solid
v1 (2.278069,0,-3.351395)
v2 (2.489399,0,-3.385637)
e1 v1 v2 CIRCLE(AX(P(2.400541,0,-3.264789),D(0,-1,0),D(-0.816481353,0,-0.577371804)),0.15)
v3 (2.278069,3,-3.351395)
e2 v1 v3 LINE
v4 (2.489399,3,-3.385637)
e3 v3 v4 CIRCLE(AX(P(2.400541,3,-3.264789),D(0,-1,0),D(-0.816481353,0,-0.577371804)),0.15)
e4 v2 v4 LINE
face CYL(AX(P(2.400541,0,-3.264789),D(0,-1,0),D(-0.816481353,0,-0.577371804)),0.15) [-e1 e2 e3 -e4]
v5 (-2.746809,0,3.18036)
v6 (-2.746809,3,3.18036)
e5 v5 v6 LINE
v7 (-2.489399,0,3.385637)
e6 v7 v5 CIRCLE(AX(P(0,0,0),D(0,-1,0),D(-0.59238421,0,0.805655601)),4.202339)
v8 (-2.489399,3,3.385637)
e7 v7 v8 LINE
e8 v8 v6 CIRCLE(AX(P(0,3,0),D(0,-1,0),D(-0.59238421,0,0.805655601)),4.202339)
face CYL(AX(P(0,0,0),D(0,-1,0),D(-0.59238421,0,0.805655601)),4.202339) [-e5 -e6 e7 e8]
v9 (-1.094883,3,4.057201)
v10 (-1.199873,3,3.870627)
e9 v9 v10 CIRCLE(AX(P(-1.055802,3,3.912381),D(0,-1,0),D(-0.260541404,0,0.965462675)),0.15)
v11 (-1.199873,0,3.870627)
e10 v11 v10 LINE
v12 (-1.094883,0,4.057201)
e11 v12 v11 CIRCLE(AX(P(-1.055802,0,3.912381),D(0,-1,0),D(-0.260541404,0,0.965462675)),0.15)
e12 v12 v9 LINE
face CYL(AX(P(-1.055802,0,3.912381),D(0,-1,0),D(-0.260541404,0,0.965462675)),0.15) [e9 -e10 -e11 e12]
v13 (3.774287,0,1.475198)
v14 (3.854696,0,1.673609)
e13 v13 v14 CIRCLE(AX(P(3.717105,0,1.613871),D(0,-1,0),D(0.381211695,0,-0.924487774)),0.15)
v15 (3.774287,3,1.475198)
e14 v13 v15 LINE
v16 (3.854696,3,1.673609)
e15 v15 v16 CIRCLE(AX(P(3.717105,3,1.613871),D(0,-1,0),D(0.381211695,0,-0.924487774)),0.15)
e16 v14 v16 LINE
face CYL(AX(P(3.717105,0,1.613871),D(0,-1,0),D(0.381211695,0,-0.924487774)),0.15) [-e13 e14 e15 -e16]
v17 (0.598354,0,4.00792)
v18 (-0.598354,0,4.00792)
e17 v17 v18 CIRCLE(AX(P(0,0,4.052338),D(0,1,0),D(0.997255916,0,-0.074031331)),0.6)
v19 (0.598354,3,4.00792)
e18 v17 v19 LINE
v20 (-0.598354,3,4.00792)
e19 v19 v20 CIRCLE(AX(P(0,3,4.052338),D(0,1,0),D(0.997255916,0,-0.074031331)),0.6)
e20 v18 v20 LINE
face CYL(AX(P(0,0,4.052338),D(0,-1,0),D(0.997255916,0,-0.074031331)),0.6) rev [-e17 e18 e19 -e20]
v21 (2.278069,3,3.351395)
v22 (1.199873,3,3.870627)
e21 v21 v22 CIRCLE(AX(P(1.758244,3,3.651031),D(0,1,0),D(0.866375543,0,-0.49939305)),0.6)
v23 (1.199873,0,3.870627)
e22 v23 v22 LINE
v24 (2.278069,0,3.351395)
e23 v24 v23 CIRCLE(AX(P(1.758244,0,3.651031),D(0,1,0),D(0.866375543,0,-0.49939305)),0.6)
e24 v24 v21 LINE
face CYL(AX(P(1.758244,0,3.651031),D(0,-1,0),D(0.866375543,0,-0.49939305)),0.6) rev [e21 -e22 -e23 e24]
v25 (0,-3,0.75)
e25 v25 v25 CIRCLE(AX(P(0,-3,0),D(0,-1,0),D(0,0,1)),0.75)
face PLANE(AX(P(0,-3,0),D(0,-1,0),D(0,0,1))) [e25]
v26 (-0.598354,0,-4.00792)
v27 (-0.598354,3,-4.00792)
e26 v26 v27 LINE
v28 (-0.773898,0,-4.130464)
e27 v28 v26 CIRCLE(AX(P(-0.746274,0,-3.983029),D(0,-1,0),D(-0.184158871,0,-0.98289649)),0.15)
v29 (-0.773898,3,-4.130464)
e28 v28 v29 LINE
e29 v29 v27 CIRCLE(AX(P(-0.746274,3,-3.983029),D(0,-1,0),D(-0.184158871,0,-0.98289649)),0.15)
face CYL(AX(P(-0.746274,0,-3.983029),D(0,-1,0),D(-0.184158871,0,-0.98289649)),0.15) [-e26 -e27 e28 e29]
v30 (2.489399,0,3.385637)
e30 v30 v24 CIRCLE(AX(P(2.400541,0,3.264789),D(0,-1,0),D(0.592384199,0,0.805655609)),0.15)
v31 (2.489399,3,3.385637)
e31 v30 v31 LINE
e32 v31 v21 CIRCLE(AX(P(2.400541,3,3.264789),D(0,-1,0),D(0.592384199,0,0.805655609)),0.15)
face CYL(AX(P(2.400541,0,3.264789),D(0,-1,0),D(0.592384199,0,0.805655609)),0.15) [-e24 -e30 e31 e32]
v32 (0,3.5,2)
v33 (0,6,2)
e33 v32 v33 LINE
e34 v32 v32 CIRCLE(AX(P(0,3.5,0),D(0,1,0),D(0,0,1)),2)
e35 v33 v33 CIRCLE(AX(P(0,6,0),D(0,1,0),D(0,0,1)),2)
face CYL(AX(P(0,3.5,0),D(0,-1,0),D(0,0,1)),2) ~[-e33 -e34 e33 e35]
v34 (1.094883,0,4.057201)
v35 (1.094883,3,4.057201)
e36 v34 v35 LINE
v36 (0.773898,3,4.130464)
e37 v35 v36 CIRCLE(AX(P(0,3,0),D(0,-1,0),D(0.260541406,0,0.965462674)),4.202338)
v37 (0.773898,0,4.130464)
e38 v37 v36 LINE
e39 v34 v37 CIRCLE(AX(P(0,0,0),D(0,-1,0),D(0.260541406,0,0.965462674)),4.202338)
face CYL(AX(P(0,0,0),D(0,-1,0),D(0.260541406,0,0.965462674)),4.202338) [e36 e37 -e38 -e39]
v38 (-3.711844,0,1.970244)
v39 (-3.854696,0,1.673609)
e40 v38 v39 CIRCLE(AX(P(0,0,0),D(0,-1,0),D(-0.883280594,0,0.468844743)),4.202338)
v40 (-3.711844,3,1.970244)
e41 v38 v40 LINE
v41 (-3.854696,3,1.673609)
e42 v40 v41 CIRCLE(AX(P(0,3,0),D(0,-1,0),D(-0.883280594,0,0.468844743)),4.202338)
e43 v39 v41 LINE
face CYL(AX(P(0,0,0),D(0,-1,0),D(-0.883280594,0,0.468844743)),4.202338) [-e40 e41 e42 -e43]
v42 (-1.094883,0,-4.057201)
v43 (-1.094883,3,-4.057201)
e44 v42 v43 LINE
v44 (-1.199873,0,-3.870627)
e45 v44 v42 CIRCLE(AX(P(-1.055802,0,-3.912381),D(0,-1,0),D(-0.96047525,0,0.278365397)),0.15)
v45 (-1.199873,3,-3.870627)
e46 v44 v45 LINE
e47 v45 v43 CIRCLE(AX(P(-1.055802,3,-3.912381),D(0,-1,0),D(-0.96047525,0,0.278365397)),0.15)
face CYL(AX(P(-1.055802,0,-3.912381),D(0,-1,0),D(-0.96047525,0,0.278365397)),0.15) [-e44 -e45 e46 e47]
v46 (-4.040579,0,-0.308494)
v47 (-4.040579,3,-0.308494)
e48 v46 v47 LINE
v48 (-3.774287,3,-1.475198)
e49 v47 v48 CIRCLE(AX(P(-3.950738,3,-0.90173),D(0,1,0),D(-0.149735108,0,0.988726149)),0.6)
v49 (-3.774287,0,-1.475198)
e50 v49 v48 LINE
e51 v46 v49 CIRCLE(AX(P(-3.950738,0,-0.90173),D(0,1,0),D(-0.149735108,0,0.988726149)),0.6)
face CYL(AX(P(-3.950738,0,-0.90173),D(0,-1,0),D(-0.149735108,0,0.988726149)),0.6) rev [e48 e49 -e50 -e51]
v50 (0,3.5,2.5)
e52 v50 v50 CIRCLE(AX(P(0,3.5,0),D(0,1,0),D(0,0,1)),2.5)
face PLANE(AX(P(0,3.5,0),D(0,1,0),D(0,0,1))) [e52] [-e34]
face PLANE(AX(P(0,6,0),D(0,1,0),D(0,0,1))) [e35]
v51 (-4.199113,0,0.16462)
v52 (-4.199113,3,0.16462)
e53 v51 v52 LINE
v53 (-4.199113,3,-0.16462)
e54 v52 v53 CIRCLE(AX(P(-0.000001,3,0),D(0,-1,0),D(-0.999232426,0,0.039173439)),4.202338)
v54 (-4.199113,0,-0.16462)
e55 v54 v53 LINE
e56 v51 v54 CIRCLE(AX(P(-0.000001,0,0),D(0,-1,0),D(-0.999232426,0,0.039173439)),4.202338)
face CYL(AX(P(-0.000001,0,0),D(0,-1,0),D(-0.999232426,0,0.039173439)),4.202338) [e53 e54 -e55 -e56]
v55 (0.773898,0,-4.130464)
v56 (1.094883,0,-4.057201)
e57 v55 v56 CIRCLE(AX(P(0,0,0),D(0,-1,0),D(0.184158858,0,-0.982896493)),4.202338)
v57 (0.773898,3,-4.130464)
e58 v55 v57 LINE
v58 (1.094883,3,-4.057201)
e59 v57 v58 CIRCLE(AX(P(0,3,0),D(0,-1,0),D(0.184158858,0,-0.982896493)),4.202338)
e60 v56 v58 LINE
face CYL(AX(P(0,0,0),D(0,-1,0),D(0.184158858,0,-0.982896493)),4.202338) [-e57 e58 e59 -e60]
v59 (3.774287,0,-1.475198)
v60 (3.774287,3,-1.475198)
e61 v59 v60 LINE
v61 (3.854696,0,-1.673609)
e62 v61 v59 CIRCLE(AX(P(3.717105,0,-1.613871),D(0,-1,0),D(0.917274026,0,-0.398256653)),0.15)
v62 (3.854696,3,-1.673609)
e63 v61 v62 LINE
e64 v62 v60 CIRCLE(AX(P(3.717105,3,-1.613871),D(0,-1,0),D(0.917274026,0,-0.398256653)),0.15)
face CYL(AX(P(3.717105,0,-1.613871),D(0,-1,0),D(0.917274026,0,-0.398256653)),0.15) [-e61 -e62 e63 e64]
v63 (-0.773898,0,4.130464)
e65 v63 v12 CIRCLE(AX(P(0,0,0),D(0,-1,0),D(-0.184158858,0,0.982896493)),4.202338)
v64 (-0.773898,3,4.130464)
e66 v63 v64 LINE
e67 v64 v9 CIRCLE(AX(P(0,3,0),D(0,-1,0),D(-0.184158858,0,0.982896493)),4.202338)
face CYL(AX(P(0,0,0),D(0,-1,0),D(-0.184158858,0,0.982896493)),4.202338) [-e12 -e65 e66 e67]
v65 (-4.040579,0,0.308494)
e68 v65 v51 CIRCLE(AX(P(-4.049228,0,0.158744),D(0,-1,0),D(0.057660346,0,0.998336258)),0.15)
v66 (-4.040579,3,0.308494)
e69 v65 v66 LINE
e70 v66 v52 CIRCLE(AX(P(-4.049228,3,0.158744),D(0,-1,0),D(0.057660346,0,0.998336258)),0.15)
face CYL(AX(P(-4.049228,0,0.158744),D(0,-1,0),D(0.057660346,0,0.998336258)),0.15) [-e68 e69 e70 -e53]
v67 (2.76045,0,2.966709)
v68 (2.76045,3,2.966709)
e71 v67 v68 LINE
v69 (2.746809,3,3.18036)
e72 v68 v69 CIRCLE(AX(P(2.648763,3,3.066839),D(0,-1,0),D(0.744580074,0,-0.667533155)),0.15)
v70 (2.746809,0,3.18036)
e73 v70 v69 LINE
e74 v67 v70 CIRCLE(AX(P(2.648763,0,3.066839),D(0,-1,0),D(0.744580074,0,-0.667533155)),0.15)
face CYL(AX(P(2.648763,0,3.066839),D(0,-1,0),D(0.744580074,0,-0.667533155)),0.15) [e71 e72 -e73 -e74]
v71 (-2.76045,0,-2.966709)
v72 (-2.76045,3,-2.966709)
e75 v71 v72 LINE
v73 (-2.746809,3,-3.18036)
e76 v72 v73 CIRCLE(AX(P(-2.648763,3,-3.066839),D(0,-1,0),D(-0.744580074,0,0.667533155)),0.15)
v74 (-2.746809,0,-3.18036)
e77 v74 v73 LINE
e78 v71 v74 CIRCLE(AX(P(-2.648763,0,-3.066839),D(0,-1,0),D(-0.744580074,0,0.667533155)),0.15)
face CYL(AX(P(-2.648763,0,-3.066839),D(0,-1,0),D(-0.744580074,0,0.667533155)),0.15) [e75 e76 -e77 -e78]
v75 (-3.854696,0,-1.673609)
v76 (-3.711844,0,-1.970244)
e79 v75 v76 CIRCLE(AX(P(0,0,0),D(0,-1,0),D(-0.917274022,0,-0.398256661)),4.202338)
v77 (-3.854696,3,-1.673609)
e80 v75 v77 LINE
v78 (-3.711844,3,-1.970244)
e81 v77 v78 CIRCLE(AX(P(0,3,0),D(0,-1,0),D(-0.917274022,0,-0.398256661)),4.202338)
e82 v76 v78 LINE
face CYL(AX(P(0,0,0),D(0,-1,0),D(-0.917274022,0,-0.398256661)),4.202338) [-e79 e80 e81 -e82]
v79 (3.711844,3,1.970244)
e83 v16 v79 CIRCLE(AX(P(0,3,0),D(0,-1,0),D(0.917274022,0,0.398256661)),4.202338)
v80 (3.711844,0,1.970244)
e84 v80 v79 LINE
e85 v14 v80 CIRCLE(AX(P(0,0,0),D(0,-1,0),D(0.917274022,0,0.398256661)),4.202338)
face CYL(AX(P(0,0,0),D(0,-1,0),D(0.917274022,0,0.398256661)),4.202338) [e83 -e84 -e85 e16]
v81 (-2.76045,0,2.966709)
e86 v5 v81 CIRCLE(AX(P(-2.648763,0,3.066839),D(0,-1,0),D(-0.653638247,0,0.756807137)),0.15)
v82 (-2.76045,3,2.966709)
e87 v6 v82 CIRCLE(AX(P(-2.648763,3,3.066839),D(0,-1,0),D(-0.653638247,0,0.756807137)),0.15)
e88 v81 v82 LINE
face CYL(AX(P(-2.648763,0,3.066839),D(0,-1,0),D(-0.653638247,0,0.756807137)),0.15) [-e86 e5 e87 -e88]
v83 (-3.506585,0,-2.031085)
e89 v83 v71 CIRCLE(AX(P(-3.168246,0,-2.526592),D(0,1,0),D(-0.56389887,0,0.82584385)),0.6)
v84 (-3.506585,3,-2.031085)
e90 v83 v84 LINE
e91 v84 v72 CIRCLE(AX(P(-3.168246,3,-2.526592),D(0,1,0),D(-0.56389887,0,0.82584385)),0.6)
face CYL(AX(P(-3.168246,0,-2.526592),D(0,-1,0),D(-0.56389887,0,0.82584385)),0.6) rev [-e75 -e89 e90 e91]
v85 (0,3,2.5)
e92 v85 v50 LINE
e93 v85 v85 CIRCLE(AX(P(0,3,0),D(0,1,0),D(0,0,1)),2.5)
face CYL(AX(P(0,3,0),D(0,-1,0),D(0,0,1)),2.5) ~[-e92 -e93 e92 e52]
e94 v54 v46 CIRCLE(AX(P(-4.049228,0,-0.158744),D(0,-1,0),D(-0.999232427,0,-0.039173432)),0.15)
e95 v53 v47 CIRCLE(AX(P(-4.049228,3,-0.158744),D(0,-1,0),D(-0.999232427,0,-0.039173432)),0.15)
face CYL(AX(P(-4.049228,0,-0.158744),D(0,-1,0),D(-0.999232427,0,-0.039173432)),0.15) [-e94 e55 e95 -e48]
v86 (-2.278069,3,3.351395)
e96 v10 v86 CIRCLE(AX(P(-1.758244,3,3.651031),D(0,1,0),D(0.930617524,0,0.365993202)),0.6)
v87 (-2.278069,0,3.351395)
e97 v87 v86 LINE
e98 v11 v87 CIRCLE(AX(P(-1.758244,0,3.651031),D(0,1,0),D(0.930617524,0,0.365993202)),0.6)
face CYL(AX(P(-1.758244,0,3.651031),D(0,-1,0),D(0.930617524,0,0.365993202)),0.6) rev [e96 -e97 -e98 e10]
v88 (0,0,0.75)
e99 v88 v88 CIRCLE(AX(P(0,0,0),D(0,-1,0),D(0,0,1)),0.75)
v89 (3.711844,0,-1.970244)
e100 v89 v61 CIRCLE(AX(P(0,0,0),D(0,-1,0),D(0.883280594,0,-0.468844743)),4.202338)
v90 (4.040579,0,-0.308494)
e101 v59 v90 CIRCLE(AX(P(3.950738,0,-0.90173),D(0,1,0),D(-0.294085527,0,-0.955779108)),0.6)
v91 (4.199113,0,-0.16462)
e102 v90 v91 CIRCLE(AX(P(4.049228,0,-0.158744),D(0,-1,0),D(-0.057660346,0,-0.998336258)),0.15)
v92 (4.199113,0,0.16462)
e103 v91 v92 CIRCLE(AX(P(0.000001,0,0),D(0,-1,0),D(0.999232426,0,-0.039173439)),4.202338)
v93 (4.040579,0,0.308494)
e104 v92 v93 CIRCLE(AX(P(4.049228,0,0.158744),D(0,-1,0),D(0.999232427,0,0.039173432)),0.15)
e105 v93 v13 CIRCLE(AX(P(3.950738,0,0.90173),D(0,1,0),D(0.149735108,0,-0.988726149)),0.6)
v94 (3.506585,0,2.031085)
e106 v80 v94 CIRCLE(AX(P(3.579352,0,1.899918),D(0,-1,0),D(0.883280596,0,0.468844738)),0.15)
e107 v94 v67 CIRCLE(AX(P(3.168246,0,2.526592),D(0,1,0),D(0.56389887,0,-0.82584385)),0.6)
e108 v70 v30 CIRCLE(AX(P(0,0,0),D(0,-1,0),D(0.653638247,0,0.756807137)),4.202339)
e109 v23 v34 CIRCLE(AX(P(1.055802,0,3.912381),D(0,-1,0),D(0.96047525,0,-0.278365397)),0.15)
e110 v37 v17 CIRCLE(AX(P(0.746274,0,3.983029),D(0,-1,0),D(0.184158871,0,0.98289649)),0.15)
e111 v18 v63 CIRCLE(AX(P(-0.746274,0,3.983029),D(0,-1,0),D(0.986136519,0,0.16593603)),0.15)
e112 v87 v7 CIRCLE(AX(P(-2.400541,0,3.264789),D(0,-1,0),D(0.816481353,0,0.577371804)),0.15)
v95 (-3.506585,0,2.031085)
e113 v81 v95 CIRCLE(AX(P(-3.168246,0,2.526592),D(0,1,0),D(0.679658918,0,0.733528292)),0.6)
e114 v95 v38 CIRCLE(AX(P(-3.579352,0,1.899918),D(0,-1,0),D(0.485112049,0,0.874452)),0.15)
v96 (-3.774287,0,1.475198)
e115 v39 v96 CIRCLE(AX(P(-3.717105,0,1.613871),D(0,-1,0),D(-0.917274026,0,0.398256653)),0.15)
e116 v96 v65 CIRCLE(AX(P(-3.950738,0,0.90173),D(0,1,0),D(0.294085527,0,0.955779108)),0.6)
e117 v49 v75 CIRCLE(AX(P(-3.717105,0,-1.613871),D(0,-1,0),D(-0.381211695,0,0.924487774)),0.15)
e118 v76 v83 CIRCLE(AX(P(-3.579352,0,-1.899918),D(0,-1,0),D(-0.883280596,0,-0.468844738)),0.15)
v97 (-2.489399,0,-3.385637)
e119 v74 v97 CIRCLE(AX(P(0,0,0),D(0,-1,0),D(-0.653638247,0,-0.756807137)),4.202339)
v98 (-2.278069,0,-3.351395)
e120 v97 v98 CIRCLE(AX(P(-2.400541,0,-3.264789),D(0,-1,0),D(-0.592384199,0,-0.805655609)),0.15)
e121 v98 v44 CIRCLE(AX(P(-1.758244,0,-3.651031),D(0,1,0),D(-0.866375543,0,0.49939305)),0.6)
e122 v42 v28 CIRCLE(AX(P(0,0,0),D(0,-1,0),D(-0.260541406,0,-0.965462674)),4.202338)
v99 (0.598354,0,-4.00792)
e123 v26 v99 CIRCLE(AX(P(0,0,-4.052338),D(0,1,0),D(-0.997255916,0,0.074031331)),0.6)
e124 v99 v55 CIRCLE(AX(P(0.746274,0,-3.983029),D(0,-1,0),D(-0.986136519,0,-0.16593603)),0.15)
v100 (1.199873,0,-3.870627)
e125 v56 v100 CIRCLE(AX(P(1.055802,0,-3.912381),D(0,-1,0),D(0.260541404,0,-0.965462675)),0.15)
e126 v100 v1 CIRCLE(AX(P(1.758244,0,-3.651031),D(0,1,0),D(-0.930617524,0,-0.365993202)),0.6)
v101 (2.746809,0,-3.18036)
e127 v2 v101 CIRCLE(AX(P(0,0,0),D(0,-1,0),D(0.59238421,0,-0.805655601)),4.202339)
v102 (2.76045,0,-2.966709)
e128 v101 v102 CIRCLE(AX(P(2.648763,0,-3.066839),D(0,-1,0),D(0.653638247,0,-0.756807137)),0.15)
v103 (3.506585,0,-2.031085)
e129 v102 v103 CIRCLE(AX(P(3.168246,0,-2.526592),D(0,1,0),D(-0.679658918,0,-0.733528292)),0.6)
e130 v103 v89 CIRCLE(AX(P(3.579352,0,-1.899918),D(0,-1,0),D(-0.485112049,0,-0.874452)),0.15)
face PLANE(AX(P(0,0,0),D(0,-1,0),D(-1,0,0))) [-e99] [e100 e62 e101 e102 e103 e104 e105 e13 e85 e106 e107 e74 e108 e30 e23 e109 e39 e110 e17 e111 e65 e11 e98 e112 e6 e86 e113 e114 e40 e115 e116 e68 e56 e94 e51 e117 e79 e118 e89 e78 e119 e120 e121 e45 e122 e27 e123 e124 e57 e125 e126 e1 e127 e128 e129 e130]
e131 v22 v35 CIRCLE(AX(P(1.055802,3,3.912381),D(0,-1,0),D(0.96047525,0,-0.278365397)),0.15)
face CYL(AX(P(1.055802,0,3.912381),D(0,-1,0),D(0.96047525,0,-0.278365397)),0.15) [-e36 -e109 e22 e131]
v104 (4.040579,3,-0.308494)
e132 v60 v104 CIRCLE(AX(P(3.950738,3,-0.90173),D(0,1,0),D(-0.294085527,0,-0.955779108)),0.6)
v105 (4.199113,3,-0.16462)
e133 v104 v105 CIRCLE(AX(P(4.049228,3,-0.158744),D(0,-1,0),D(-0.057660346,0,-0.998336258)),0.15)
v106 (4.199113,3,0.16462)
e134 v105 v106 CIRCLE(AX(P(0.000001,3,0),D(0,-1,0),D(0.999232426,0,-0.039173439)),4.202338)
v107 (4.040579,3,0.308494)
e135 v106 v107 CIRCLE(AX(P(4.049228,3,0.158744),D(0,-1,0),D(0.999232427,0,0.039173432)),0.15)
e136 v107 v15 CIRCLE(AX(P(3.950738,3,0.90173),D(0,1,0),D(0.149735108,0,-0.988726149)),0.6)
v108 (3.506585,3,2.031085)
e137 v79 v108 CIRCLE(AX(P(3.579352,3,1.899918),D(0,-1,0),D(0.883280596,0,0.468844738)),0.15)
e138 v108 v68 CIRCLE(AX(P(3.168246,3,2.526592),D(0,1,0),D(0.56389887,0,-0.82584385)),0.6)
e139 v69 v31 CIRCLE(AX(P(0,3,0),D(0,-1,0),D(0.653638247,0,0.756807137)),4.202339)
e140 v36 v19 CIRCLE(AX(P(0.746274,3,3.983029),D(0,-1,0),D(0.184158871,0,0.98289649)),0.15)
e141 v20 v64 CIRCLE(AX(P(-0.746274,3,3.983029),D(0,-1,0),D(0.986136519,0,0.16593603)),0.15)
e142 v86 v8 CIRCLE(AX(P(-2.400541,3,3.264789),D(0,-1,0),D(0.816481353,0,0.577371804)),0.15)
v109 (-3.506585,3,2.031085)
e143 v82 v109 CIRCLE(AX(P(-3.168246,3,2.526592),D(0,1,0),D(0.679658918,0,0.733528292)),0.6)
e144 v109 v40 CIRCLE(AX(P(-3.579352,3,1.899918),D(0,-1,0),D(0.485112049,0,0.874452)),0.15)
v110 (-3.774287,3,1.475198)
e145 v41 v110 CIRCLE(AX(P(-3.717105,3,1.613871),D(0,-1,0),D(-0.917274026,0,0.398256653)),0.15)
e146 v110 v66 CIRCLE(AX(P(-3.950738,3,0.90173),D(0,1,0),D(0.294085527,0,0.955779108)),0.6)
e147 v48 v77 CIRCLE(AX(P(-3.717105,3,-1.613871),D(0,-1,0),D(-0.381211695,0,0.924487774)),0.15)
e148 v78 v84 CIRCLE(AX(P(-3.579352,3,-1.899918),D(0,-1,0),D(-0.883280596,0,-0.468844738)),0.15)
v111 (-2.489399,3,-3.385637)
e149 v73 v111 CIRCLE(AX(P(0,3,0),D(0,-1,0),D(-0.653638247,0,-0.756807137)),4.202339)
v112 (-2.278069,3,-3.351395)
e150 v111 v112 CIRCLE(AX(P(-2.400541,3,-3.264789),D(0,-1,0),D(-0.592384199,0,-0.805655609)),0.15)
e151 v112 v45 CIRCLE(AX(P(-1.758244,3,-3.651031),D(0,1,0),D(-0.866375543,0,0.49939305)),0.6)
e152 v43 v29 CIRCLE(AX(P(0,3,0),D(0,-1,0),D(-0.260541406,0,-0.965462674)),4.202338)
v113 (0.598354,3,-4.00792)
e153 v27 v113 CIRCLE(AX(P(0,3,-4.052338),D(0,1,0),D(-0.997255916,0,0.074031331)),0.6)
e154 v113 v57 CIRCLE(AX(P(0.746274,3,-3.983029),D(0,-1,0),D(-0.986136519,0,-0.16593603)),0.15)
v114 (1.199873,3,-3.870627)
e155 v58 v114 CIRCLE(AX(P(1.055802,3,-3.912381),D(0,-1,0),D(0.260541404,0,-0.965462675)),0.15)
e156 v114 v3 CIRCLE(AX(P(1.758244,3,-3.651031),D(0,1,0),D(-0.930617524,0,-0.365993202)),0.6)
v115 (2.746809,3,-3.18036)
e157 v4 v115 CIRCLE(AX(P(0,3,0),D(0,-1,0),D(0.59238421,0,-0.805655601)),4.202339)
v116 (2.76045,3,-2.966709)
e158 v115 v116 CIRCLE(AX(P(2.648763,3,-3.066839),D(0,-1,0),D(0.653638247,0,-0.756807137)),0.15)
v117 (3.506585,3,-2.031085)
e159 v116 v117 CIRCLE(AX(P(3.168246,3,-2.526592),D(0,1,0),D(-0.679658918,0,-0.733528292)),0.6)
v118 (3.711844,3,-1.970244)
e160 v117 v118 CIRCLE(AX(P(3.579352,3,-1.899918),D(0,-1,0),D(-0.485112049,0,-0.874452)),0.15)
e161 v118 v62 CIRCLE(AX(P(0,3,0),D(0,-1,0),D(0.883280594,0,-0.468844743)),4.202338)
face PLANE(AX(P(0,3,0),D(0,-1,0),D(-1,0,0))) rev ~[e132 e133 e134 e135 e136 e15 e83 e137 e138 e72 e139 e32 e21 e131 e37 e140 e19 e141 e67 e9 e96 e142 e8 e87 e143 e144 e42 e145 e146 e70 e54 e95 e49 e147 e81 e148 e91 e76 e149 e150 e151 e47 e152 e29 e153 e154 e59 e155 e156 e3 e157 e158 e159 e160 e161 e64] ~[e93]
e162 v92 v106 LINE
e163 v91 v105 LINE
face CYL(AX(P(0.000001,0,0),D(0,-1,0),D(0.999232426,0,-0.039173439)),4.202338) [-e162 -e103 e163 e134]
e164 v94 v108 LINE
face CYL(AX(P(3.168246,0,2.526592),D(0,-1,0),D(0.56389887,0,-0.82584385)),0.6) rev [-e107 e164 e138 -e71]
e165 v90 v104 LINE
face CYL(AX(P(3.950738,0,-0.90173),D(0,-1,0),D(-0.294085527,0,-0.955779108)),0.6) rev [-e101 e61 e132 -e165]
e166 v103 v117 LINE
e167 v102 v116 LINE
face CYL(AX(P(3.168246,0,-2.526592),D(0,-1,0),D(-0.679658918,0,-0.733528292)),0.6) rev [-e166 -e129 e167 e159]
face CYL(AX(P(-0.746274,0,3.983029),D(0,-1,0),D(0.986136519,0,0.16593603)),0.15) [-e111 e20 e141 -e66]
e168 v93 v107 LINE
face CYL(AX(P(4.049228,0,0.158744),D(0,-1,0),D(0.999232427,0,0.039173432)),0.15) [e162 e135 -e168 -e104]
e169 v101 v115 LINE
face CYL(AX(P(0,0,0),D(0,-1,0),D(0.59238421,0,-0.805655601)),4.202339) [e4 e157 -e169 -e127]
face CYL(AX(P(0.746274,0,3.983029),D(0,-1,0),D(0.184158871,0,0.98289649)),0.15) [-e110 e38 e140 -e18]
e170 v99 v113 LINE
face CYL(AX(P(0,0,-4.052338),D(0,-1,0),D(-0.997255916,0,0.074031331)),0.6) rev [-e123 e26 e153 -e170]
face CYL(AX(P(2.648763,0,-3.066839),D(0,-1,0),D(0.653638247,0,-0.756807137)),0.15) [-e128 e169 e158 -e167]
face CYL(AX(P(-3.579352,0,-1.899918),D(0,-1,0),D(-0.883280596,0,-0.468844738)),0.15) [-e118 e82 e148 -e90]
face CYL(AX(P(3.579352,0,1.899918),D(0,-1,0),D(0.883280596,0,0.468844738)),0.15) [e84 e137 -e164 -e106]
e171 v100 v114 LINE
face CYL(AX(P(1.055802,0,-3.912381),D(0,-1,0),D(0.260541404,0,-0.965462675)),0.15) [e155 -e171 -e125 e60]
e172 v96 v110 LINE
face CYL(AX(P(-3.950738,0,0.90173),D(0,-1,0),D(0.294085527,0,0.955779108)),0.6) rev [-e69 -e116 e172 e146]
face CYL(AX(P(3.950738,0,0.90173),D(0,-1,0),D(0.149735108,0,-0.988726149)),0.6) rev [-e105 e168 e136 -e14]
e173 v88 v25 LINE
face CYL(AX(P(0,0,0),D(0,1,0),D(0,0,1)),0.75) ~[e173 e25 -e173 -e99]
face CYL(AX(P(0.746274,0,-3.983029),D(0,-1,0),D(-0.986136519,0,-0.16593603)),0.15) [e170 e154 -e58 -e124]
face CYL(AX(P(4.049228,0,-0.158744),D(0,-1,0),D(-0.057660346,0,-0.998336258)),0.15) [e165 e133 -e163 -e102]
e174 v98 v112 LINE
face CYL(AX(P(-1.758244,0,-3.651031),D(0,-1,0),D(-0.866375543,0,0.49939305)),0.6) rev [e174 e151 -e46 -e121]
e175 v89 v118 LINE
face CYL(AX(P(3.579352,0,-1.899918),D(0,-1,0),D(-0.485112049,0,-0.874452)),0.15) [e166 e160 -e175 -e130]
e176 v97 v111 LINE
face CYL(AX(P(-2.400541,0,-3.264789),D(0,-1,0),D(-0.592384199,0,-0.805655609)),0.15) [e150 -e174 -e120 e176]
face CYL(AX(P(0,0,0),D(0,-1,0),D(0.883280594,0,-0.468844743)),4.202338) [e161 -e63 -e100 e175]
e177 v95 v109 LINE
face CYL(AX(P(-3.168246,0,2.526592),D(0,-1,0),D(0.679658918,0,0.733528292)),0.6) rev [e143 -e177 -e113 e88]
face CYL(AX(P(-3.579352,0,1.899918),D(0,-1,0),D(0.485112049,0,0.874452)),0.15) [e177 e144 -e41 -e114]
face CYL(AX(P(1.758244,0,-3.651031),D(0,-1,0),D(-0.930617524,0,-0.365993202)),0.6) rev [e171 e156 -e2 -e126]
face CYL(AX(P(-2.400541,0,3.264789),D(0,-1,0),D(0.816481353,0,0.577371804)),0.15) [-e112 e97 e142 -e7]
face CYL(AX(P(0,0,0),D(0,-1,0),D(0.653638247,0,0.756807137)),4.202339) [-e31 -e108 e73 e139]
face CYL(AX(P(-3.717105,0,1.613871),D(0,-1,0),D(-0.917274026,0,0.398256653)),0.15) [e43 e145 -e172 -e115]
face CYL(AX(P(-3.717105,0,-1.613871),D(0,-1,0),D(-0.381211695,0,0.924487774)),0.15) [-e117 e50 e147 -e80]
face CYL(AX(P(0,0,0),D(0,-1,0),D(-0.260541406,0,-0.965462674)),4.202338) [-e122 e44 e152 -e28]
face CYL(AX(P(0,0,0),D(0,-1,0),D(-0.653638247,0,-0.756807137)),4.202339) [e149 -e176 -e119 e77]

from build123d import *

# Parameters (mm, degrees)
BOSS_EXTRUDE1_DEPTH = 3
SKETCH2_R           = 0.75
BOSS_EXTRUDE2_DEPTH = 3
SKETCH3_R           = 2.5
BOSS_EXTRUDE3_DEPTH = 0.5
SKETCH4_R           = 2
BOSS_EXTRUDE4_DEPTH = 2.5


with BuildPart() as part:
    # Sketch1 → Boss-Extrude1 (new body)
    with BuildSketch(Plane(origin=(0, 0, 0), x_dir=(1, 0, 0), z_dir=(0, 1, 0))):
        with BuildLine():
            ThreePointArc((0.59835355, 4.007919609), (0.660413192, 4.106024801), (0.773897857, 4.130463677))
            ThreePointArc((0.773897857, 4.130463677), (0.935108267, 4.096977009), (1.094883149, 4.057200879))
            ThreePointArc((1.094883149, 4.057200879), (1.186525668, 3.985943061), (1.199873226, 3.870626668))
            ThreePointArc((1.199873226, 3.870626668), (1.497913497, 3.110449426), (2.278069066, 3.351394917))
            ThreePointArc((2.278069066, 3.351394917), (2.376549119, 3.412857971), (2.4893989, 3.385637488))
            ThreePointArc((2.4893989, 3.385637488), (2.62011514, 3.285520466), (2.746809119, 3.180359688))
            ThreePointArc((2.746809119, 3.180359688), (2.798458567, 3.076396414), (2.760450393, 2.966708646))
            ThreePointArc((2.760450393, 2.966708646), (2.699146854, 2.152497789), (3.506585066, 2.03108536))
            ThreePointArc((3.506585066, 2.03108536), (3.621980347, 2.043732765), (3.711843962, 1.970244271))
            ThreePointArc((3.711843962, 1.970244271), (3.786176077, 1.823326301), (3.854695856, 1.673609257))
            ThreePointArc((3.854695856, 1.673609257), (3.856122426, 1.557531728), (3.774286506, 1.475197592))
            ThreePointArc((3.774286506, 1.475197592), (3.365781075, 0.768217567), (4.040578887, 0.308494438))
            ThreePointArc((4.040578887, 0.308494438), (4.150033947, 0.269821219), (4.199112803, 0.164620014))
            ThreePointArc((4.199112803, 0.164620014), (4.202338407, 0), (4.199112803, -0.164620014))
            ThreePointArc((4.199112803, -0.164620014), (4.150033947, -0.269821219), (4.040578887, -0.308494438))
            ThreePointArc((4.040578887, -0.308494438), (3.365781075, -0.768217567), (3.774286506, -1.475197592))
            ThreePointArc((3.774286506, -1.475197592), (3.856122426, -1.557531728), (3.854695856, -1.673609257))
            ThreePointArc((3.854695856, -1.673609257), (3.786176077, -1.823326301), (3.711843962, -1.970244271))
            ThreePointArc((3.711843962, -1.970244271), (3.621980347, -2.043732765), (3.506585066, -2.03108536))
            ThreePointArc((3.506585066, -2.03108536), (2.699146854, -2.152497789), (2.760450393, -2.966708646))
            ThreePointArc((2.760450393, -2.966708646), (2.798458567, -3.076396414), (2.746809119, -3.180359688))
            ThreePointArc((2.746809119, -3.180359688), (2.62011514, -3.285520466), (2.4893989, -3.385637488))
            ThreePointArc((2.4893989, -3.385637488), (2.376549119, -3.412857971), (2.278069066, -3.351394917))
            ThreePointArc((2.278069066, -3.351394917), (1.497913497, -3.110449426), (1.199873226, -3.870626668))
            ThreePointArc((1.199873226, -3.870626668), (1.186525668, -3.985943061), (1.094883149, -4.057200879))
            ThreePointArc((1.094883149, -4.057200879), (0.935108267, -4.096977009), (0.773897857, -4.130463677))
            ThreePointArc((0.773897857, -4.130463677), (0.660413192, -4.106024801), (0.59835355, -4.007919609))
            ThreePointArc((0.59835355, -4.007919609), (0, -3.452338407), (-0.59835355, -4.007919609))
            ThreePointArc((-0.59835355, -4.007919609), (-0.660413192, -4.106024801), (-0.773897857, -4.130463677))
            ThreePointArc((-0.773897857, -4.130463677), (-0.935108267, -4.096977009), (-1.094883149, -4.057200879))
            ThreePointArc((-1.094883149, -4.057200879), (-1.186525668, -3.985943061), (-1.199873226, -3.870626668))
            ThreePointArc((-1.199873226, -3.870626668), (-1.497913497, -3.110449426), (-2.278069066, -3.351394917))
            ThreePointArc((-2.278069066, -3.351394917), (-2.376549119, -3.412857971), (-2.4893989, -3.385637488))
            ThreePointArc((-2.4893989, -3.385637488), (-2.62011514, -3.285520466), (-2.746809119, -3.180359688))
            ThreePointArc((-2.746809119, -3.180359688), (-2.798458567, -3.076396414), (-2.760450393, -2.966708646))
            ThreePointArc((-2.760450393, -2.966708646), (-2.699146854, -2.152497789), (-3.506585066, -2.03108536))
            ThreePointArc((-3.506585066, -2.03108536), (-3.621980347, -2.043732765), (-3.711843962, -1.970244271))
            ThreePointArc((-3.711843962, -1.970244271), (-3.786176077, -1.823326301), (-3.854695856, -1.673609257))
            ThreePointArc((-3.854695856, -1.673609257), (-3.856122426, -1.557531728), (-3.774286506, -1.475197592))
            ThreePointArc((-3.774286506, -1.475197592), (-3.365781075, -0.768217567), (-4.040578887, -0.308494438))
            ThreePointArc((-4.040578887, -0.308494438), (-4.150033947, -0.269821219), (-4.199112803, -0.164620014))
            ThreePointArc((-4.199112803, -0.164620014), (-4.202338407, 0), (-4.199112803, 0.164620014))
            ThreePointArc((-4.199112803, 0.164620014), (-4.150033947, 0.269821219), (-4.040578887, 0.308494438))
            ThreePointArc((-4.040578887, 0.308494438), (-3.365781075, 0.768217567), (-3.774286506, 1.475197592))
            ThreePointArc((-3.774286506, 1.475197592), (-3.856122426, 1.557531728), (-3.854695856, 1.673609257))
            ThreePointArc((-3.854695856, 1.673609257), (-3.786176077, 1.823326301), (-3.711843962, 1.970244271))
            ThreePointArc((-3.711843962, 1.970244271), (-3.621980347, 2.043732765), (-3.506585066, 2.03108536))
            ThreePointArc((-3.506585066, 2.03108536), (-2.699146854, 2.152497789), (-2.760450393, 2.966708646))
            ThreePointArc((-2.760450393, 2.966708646), (-2.798458567, 3.076396414), (-2.746809119, 3.180359688))
            ThreePointArc((-2.746809119, 3.180359688), (-2.62011514, 3.285520466), (-2.4893989, 3.385637488))
            ThreePointArc((-2.4893989, 3.385637488), (-2.376549119, 3.412857971), (-2.278069066, 3.351394917))
            ThreePointArc((-2.278069066, 3.351394917), (-1.497913497, 3.110449426), (-1.199873226, 3.870626668))
            ThreePointArc((-1.199873226, 3.870626668), (-1.186525668, 3.985943061), (-1.094883149, 4.057200879))
            ThreePointArc((-1.094883149, 4.057200879), (-0.935108267, 4.096977009), (-0.773897857, 4.130463677))
            ThreePointArc((-0.773897857, 4.130463677), (-0.660413192, 4.106024801), (-0.59835355, 4.007919609))
            ThreePointArc((-0.59835355, 4.007919609), (0, 3.452338407), (0.59835355, 4.007919609))
        make_face()
    extrude(amount=BOSS_EXTRUDE1_DEPTH)

    # Sketch2 → Boss-Extrude2 (add)
    with BuildSketch(Plane(origin=(0, 0, 0), x_dir=(-1, 0, 0), z_dir=(0, -1, 0))):
        with Locations(Location((0, 0, 0), (0, 0, 270))):
            Circle(SKETCH2_R)
    extrude(amount=BOSS_EXTRUDE2_DEPTH)

    # Sketch3 → Boss-Extrude3 (add)
    with BuildSketch(Plane(origin=(0, 3, 0), x_dir=(1, 0, 0), z_dir=(0, 1, 0))):
        with Locations(Location((0, 0, 0), (0, 0, 270))):
            Circle(SKETCH3_R)
    extrude(amount=BOSS_EXTRUDE3_DEPTH)

    # Sketch4 → Boss-Extrude4 (add)
    with BuildSketch(Plane(origin=(0, 3.5, 0), x_dir=(1, 0, 0), z_dir=(0, 1, 0))):
        with Locations(Location((0, 0, 0), (0, 0, 270))):
            Circle(SKETCH4_R)
    extrude(amount=BOSS_EXTRUDE4_DEPTH)


solid = part.part
